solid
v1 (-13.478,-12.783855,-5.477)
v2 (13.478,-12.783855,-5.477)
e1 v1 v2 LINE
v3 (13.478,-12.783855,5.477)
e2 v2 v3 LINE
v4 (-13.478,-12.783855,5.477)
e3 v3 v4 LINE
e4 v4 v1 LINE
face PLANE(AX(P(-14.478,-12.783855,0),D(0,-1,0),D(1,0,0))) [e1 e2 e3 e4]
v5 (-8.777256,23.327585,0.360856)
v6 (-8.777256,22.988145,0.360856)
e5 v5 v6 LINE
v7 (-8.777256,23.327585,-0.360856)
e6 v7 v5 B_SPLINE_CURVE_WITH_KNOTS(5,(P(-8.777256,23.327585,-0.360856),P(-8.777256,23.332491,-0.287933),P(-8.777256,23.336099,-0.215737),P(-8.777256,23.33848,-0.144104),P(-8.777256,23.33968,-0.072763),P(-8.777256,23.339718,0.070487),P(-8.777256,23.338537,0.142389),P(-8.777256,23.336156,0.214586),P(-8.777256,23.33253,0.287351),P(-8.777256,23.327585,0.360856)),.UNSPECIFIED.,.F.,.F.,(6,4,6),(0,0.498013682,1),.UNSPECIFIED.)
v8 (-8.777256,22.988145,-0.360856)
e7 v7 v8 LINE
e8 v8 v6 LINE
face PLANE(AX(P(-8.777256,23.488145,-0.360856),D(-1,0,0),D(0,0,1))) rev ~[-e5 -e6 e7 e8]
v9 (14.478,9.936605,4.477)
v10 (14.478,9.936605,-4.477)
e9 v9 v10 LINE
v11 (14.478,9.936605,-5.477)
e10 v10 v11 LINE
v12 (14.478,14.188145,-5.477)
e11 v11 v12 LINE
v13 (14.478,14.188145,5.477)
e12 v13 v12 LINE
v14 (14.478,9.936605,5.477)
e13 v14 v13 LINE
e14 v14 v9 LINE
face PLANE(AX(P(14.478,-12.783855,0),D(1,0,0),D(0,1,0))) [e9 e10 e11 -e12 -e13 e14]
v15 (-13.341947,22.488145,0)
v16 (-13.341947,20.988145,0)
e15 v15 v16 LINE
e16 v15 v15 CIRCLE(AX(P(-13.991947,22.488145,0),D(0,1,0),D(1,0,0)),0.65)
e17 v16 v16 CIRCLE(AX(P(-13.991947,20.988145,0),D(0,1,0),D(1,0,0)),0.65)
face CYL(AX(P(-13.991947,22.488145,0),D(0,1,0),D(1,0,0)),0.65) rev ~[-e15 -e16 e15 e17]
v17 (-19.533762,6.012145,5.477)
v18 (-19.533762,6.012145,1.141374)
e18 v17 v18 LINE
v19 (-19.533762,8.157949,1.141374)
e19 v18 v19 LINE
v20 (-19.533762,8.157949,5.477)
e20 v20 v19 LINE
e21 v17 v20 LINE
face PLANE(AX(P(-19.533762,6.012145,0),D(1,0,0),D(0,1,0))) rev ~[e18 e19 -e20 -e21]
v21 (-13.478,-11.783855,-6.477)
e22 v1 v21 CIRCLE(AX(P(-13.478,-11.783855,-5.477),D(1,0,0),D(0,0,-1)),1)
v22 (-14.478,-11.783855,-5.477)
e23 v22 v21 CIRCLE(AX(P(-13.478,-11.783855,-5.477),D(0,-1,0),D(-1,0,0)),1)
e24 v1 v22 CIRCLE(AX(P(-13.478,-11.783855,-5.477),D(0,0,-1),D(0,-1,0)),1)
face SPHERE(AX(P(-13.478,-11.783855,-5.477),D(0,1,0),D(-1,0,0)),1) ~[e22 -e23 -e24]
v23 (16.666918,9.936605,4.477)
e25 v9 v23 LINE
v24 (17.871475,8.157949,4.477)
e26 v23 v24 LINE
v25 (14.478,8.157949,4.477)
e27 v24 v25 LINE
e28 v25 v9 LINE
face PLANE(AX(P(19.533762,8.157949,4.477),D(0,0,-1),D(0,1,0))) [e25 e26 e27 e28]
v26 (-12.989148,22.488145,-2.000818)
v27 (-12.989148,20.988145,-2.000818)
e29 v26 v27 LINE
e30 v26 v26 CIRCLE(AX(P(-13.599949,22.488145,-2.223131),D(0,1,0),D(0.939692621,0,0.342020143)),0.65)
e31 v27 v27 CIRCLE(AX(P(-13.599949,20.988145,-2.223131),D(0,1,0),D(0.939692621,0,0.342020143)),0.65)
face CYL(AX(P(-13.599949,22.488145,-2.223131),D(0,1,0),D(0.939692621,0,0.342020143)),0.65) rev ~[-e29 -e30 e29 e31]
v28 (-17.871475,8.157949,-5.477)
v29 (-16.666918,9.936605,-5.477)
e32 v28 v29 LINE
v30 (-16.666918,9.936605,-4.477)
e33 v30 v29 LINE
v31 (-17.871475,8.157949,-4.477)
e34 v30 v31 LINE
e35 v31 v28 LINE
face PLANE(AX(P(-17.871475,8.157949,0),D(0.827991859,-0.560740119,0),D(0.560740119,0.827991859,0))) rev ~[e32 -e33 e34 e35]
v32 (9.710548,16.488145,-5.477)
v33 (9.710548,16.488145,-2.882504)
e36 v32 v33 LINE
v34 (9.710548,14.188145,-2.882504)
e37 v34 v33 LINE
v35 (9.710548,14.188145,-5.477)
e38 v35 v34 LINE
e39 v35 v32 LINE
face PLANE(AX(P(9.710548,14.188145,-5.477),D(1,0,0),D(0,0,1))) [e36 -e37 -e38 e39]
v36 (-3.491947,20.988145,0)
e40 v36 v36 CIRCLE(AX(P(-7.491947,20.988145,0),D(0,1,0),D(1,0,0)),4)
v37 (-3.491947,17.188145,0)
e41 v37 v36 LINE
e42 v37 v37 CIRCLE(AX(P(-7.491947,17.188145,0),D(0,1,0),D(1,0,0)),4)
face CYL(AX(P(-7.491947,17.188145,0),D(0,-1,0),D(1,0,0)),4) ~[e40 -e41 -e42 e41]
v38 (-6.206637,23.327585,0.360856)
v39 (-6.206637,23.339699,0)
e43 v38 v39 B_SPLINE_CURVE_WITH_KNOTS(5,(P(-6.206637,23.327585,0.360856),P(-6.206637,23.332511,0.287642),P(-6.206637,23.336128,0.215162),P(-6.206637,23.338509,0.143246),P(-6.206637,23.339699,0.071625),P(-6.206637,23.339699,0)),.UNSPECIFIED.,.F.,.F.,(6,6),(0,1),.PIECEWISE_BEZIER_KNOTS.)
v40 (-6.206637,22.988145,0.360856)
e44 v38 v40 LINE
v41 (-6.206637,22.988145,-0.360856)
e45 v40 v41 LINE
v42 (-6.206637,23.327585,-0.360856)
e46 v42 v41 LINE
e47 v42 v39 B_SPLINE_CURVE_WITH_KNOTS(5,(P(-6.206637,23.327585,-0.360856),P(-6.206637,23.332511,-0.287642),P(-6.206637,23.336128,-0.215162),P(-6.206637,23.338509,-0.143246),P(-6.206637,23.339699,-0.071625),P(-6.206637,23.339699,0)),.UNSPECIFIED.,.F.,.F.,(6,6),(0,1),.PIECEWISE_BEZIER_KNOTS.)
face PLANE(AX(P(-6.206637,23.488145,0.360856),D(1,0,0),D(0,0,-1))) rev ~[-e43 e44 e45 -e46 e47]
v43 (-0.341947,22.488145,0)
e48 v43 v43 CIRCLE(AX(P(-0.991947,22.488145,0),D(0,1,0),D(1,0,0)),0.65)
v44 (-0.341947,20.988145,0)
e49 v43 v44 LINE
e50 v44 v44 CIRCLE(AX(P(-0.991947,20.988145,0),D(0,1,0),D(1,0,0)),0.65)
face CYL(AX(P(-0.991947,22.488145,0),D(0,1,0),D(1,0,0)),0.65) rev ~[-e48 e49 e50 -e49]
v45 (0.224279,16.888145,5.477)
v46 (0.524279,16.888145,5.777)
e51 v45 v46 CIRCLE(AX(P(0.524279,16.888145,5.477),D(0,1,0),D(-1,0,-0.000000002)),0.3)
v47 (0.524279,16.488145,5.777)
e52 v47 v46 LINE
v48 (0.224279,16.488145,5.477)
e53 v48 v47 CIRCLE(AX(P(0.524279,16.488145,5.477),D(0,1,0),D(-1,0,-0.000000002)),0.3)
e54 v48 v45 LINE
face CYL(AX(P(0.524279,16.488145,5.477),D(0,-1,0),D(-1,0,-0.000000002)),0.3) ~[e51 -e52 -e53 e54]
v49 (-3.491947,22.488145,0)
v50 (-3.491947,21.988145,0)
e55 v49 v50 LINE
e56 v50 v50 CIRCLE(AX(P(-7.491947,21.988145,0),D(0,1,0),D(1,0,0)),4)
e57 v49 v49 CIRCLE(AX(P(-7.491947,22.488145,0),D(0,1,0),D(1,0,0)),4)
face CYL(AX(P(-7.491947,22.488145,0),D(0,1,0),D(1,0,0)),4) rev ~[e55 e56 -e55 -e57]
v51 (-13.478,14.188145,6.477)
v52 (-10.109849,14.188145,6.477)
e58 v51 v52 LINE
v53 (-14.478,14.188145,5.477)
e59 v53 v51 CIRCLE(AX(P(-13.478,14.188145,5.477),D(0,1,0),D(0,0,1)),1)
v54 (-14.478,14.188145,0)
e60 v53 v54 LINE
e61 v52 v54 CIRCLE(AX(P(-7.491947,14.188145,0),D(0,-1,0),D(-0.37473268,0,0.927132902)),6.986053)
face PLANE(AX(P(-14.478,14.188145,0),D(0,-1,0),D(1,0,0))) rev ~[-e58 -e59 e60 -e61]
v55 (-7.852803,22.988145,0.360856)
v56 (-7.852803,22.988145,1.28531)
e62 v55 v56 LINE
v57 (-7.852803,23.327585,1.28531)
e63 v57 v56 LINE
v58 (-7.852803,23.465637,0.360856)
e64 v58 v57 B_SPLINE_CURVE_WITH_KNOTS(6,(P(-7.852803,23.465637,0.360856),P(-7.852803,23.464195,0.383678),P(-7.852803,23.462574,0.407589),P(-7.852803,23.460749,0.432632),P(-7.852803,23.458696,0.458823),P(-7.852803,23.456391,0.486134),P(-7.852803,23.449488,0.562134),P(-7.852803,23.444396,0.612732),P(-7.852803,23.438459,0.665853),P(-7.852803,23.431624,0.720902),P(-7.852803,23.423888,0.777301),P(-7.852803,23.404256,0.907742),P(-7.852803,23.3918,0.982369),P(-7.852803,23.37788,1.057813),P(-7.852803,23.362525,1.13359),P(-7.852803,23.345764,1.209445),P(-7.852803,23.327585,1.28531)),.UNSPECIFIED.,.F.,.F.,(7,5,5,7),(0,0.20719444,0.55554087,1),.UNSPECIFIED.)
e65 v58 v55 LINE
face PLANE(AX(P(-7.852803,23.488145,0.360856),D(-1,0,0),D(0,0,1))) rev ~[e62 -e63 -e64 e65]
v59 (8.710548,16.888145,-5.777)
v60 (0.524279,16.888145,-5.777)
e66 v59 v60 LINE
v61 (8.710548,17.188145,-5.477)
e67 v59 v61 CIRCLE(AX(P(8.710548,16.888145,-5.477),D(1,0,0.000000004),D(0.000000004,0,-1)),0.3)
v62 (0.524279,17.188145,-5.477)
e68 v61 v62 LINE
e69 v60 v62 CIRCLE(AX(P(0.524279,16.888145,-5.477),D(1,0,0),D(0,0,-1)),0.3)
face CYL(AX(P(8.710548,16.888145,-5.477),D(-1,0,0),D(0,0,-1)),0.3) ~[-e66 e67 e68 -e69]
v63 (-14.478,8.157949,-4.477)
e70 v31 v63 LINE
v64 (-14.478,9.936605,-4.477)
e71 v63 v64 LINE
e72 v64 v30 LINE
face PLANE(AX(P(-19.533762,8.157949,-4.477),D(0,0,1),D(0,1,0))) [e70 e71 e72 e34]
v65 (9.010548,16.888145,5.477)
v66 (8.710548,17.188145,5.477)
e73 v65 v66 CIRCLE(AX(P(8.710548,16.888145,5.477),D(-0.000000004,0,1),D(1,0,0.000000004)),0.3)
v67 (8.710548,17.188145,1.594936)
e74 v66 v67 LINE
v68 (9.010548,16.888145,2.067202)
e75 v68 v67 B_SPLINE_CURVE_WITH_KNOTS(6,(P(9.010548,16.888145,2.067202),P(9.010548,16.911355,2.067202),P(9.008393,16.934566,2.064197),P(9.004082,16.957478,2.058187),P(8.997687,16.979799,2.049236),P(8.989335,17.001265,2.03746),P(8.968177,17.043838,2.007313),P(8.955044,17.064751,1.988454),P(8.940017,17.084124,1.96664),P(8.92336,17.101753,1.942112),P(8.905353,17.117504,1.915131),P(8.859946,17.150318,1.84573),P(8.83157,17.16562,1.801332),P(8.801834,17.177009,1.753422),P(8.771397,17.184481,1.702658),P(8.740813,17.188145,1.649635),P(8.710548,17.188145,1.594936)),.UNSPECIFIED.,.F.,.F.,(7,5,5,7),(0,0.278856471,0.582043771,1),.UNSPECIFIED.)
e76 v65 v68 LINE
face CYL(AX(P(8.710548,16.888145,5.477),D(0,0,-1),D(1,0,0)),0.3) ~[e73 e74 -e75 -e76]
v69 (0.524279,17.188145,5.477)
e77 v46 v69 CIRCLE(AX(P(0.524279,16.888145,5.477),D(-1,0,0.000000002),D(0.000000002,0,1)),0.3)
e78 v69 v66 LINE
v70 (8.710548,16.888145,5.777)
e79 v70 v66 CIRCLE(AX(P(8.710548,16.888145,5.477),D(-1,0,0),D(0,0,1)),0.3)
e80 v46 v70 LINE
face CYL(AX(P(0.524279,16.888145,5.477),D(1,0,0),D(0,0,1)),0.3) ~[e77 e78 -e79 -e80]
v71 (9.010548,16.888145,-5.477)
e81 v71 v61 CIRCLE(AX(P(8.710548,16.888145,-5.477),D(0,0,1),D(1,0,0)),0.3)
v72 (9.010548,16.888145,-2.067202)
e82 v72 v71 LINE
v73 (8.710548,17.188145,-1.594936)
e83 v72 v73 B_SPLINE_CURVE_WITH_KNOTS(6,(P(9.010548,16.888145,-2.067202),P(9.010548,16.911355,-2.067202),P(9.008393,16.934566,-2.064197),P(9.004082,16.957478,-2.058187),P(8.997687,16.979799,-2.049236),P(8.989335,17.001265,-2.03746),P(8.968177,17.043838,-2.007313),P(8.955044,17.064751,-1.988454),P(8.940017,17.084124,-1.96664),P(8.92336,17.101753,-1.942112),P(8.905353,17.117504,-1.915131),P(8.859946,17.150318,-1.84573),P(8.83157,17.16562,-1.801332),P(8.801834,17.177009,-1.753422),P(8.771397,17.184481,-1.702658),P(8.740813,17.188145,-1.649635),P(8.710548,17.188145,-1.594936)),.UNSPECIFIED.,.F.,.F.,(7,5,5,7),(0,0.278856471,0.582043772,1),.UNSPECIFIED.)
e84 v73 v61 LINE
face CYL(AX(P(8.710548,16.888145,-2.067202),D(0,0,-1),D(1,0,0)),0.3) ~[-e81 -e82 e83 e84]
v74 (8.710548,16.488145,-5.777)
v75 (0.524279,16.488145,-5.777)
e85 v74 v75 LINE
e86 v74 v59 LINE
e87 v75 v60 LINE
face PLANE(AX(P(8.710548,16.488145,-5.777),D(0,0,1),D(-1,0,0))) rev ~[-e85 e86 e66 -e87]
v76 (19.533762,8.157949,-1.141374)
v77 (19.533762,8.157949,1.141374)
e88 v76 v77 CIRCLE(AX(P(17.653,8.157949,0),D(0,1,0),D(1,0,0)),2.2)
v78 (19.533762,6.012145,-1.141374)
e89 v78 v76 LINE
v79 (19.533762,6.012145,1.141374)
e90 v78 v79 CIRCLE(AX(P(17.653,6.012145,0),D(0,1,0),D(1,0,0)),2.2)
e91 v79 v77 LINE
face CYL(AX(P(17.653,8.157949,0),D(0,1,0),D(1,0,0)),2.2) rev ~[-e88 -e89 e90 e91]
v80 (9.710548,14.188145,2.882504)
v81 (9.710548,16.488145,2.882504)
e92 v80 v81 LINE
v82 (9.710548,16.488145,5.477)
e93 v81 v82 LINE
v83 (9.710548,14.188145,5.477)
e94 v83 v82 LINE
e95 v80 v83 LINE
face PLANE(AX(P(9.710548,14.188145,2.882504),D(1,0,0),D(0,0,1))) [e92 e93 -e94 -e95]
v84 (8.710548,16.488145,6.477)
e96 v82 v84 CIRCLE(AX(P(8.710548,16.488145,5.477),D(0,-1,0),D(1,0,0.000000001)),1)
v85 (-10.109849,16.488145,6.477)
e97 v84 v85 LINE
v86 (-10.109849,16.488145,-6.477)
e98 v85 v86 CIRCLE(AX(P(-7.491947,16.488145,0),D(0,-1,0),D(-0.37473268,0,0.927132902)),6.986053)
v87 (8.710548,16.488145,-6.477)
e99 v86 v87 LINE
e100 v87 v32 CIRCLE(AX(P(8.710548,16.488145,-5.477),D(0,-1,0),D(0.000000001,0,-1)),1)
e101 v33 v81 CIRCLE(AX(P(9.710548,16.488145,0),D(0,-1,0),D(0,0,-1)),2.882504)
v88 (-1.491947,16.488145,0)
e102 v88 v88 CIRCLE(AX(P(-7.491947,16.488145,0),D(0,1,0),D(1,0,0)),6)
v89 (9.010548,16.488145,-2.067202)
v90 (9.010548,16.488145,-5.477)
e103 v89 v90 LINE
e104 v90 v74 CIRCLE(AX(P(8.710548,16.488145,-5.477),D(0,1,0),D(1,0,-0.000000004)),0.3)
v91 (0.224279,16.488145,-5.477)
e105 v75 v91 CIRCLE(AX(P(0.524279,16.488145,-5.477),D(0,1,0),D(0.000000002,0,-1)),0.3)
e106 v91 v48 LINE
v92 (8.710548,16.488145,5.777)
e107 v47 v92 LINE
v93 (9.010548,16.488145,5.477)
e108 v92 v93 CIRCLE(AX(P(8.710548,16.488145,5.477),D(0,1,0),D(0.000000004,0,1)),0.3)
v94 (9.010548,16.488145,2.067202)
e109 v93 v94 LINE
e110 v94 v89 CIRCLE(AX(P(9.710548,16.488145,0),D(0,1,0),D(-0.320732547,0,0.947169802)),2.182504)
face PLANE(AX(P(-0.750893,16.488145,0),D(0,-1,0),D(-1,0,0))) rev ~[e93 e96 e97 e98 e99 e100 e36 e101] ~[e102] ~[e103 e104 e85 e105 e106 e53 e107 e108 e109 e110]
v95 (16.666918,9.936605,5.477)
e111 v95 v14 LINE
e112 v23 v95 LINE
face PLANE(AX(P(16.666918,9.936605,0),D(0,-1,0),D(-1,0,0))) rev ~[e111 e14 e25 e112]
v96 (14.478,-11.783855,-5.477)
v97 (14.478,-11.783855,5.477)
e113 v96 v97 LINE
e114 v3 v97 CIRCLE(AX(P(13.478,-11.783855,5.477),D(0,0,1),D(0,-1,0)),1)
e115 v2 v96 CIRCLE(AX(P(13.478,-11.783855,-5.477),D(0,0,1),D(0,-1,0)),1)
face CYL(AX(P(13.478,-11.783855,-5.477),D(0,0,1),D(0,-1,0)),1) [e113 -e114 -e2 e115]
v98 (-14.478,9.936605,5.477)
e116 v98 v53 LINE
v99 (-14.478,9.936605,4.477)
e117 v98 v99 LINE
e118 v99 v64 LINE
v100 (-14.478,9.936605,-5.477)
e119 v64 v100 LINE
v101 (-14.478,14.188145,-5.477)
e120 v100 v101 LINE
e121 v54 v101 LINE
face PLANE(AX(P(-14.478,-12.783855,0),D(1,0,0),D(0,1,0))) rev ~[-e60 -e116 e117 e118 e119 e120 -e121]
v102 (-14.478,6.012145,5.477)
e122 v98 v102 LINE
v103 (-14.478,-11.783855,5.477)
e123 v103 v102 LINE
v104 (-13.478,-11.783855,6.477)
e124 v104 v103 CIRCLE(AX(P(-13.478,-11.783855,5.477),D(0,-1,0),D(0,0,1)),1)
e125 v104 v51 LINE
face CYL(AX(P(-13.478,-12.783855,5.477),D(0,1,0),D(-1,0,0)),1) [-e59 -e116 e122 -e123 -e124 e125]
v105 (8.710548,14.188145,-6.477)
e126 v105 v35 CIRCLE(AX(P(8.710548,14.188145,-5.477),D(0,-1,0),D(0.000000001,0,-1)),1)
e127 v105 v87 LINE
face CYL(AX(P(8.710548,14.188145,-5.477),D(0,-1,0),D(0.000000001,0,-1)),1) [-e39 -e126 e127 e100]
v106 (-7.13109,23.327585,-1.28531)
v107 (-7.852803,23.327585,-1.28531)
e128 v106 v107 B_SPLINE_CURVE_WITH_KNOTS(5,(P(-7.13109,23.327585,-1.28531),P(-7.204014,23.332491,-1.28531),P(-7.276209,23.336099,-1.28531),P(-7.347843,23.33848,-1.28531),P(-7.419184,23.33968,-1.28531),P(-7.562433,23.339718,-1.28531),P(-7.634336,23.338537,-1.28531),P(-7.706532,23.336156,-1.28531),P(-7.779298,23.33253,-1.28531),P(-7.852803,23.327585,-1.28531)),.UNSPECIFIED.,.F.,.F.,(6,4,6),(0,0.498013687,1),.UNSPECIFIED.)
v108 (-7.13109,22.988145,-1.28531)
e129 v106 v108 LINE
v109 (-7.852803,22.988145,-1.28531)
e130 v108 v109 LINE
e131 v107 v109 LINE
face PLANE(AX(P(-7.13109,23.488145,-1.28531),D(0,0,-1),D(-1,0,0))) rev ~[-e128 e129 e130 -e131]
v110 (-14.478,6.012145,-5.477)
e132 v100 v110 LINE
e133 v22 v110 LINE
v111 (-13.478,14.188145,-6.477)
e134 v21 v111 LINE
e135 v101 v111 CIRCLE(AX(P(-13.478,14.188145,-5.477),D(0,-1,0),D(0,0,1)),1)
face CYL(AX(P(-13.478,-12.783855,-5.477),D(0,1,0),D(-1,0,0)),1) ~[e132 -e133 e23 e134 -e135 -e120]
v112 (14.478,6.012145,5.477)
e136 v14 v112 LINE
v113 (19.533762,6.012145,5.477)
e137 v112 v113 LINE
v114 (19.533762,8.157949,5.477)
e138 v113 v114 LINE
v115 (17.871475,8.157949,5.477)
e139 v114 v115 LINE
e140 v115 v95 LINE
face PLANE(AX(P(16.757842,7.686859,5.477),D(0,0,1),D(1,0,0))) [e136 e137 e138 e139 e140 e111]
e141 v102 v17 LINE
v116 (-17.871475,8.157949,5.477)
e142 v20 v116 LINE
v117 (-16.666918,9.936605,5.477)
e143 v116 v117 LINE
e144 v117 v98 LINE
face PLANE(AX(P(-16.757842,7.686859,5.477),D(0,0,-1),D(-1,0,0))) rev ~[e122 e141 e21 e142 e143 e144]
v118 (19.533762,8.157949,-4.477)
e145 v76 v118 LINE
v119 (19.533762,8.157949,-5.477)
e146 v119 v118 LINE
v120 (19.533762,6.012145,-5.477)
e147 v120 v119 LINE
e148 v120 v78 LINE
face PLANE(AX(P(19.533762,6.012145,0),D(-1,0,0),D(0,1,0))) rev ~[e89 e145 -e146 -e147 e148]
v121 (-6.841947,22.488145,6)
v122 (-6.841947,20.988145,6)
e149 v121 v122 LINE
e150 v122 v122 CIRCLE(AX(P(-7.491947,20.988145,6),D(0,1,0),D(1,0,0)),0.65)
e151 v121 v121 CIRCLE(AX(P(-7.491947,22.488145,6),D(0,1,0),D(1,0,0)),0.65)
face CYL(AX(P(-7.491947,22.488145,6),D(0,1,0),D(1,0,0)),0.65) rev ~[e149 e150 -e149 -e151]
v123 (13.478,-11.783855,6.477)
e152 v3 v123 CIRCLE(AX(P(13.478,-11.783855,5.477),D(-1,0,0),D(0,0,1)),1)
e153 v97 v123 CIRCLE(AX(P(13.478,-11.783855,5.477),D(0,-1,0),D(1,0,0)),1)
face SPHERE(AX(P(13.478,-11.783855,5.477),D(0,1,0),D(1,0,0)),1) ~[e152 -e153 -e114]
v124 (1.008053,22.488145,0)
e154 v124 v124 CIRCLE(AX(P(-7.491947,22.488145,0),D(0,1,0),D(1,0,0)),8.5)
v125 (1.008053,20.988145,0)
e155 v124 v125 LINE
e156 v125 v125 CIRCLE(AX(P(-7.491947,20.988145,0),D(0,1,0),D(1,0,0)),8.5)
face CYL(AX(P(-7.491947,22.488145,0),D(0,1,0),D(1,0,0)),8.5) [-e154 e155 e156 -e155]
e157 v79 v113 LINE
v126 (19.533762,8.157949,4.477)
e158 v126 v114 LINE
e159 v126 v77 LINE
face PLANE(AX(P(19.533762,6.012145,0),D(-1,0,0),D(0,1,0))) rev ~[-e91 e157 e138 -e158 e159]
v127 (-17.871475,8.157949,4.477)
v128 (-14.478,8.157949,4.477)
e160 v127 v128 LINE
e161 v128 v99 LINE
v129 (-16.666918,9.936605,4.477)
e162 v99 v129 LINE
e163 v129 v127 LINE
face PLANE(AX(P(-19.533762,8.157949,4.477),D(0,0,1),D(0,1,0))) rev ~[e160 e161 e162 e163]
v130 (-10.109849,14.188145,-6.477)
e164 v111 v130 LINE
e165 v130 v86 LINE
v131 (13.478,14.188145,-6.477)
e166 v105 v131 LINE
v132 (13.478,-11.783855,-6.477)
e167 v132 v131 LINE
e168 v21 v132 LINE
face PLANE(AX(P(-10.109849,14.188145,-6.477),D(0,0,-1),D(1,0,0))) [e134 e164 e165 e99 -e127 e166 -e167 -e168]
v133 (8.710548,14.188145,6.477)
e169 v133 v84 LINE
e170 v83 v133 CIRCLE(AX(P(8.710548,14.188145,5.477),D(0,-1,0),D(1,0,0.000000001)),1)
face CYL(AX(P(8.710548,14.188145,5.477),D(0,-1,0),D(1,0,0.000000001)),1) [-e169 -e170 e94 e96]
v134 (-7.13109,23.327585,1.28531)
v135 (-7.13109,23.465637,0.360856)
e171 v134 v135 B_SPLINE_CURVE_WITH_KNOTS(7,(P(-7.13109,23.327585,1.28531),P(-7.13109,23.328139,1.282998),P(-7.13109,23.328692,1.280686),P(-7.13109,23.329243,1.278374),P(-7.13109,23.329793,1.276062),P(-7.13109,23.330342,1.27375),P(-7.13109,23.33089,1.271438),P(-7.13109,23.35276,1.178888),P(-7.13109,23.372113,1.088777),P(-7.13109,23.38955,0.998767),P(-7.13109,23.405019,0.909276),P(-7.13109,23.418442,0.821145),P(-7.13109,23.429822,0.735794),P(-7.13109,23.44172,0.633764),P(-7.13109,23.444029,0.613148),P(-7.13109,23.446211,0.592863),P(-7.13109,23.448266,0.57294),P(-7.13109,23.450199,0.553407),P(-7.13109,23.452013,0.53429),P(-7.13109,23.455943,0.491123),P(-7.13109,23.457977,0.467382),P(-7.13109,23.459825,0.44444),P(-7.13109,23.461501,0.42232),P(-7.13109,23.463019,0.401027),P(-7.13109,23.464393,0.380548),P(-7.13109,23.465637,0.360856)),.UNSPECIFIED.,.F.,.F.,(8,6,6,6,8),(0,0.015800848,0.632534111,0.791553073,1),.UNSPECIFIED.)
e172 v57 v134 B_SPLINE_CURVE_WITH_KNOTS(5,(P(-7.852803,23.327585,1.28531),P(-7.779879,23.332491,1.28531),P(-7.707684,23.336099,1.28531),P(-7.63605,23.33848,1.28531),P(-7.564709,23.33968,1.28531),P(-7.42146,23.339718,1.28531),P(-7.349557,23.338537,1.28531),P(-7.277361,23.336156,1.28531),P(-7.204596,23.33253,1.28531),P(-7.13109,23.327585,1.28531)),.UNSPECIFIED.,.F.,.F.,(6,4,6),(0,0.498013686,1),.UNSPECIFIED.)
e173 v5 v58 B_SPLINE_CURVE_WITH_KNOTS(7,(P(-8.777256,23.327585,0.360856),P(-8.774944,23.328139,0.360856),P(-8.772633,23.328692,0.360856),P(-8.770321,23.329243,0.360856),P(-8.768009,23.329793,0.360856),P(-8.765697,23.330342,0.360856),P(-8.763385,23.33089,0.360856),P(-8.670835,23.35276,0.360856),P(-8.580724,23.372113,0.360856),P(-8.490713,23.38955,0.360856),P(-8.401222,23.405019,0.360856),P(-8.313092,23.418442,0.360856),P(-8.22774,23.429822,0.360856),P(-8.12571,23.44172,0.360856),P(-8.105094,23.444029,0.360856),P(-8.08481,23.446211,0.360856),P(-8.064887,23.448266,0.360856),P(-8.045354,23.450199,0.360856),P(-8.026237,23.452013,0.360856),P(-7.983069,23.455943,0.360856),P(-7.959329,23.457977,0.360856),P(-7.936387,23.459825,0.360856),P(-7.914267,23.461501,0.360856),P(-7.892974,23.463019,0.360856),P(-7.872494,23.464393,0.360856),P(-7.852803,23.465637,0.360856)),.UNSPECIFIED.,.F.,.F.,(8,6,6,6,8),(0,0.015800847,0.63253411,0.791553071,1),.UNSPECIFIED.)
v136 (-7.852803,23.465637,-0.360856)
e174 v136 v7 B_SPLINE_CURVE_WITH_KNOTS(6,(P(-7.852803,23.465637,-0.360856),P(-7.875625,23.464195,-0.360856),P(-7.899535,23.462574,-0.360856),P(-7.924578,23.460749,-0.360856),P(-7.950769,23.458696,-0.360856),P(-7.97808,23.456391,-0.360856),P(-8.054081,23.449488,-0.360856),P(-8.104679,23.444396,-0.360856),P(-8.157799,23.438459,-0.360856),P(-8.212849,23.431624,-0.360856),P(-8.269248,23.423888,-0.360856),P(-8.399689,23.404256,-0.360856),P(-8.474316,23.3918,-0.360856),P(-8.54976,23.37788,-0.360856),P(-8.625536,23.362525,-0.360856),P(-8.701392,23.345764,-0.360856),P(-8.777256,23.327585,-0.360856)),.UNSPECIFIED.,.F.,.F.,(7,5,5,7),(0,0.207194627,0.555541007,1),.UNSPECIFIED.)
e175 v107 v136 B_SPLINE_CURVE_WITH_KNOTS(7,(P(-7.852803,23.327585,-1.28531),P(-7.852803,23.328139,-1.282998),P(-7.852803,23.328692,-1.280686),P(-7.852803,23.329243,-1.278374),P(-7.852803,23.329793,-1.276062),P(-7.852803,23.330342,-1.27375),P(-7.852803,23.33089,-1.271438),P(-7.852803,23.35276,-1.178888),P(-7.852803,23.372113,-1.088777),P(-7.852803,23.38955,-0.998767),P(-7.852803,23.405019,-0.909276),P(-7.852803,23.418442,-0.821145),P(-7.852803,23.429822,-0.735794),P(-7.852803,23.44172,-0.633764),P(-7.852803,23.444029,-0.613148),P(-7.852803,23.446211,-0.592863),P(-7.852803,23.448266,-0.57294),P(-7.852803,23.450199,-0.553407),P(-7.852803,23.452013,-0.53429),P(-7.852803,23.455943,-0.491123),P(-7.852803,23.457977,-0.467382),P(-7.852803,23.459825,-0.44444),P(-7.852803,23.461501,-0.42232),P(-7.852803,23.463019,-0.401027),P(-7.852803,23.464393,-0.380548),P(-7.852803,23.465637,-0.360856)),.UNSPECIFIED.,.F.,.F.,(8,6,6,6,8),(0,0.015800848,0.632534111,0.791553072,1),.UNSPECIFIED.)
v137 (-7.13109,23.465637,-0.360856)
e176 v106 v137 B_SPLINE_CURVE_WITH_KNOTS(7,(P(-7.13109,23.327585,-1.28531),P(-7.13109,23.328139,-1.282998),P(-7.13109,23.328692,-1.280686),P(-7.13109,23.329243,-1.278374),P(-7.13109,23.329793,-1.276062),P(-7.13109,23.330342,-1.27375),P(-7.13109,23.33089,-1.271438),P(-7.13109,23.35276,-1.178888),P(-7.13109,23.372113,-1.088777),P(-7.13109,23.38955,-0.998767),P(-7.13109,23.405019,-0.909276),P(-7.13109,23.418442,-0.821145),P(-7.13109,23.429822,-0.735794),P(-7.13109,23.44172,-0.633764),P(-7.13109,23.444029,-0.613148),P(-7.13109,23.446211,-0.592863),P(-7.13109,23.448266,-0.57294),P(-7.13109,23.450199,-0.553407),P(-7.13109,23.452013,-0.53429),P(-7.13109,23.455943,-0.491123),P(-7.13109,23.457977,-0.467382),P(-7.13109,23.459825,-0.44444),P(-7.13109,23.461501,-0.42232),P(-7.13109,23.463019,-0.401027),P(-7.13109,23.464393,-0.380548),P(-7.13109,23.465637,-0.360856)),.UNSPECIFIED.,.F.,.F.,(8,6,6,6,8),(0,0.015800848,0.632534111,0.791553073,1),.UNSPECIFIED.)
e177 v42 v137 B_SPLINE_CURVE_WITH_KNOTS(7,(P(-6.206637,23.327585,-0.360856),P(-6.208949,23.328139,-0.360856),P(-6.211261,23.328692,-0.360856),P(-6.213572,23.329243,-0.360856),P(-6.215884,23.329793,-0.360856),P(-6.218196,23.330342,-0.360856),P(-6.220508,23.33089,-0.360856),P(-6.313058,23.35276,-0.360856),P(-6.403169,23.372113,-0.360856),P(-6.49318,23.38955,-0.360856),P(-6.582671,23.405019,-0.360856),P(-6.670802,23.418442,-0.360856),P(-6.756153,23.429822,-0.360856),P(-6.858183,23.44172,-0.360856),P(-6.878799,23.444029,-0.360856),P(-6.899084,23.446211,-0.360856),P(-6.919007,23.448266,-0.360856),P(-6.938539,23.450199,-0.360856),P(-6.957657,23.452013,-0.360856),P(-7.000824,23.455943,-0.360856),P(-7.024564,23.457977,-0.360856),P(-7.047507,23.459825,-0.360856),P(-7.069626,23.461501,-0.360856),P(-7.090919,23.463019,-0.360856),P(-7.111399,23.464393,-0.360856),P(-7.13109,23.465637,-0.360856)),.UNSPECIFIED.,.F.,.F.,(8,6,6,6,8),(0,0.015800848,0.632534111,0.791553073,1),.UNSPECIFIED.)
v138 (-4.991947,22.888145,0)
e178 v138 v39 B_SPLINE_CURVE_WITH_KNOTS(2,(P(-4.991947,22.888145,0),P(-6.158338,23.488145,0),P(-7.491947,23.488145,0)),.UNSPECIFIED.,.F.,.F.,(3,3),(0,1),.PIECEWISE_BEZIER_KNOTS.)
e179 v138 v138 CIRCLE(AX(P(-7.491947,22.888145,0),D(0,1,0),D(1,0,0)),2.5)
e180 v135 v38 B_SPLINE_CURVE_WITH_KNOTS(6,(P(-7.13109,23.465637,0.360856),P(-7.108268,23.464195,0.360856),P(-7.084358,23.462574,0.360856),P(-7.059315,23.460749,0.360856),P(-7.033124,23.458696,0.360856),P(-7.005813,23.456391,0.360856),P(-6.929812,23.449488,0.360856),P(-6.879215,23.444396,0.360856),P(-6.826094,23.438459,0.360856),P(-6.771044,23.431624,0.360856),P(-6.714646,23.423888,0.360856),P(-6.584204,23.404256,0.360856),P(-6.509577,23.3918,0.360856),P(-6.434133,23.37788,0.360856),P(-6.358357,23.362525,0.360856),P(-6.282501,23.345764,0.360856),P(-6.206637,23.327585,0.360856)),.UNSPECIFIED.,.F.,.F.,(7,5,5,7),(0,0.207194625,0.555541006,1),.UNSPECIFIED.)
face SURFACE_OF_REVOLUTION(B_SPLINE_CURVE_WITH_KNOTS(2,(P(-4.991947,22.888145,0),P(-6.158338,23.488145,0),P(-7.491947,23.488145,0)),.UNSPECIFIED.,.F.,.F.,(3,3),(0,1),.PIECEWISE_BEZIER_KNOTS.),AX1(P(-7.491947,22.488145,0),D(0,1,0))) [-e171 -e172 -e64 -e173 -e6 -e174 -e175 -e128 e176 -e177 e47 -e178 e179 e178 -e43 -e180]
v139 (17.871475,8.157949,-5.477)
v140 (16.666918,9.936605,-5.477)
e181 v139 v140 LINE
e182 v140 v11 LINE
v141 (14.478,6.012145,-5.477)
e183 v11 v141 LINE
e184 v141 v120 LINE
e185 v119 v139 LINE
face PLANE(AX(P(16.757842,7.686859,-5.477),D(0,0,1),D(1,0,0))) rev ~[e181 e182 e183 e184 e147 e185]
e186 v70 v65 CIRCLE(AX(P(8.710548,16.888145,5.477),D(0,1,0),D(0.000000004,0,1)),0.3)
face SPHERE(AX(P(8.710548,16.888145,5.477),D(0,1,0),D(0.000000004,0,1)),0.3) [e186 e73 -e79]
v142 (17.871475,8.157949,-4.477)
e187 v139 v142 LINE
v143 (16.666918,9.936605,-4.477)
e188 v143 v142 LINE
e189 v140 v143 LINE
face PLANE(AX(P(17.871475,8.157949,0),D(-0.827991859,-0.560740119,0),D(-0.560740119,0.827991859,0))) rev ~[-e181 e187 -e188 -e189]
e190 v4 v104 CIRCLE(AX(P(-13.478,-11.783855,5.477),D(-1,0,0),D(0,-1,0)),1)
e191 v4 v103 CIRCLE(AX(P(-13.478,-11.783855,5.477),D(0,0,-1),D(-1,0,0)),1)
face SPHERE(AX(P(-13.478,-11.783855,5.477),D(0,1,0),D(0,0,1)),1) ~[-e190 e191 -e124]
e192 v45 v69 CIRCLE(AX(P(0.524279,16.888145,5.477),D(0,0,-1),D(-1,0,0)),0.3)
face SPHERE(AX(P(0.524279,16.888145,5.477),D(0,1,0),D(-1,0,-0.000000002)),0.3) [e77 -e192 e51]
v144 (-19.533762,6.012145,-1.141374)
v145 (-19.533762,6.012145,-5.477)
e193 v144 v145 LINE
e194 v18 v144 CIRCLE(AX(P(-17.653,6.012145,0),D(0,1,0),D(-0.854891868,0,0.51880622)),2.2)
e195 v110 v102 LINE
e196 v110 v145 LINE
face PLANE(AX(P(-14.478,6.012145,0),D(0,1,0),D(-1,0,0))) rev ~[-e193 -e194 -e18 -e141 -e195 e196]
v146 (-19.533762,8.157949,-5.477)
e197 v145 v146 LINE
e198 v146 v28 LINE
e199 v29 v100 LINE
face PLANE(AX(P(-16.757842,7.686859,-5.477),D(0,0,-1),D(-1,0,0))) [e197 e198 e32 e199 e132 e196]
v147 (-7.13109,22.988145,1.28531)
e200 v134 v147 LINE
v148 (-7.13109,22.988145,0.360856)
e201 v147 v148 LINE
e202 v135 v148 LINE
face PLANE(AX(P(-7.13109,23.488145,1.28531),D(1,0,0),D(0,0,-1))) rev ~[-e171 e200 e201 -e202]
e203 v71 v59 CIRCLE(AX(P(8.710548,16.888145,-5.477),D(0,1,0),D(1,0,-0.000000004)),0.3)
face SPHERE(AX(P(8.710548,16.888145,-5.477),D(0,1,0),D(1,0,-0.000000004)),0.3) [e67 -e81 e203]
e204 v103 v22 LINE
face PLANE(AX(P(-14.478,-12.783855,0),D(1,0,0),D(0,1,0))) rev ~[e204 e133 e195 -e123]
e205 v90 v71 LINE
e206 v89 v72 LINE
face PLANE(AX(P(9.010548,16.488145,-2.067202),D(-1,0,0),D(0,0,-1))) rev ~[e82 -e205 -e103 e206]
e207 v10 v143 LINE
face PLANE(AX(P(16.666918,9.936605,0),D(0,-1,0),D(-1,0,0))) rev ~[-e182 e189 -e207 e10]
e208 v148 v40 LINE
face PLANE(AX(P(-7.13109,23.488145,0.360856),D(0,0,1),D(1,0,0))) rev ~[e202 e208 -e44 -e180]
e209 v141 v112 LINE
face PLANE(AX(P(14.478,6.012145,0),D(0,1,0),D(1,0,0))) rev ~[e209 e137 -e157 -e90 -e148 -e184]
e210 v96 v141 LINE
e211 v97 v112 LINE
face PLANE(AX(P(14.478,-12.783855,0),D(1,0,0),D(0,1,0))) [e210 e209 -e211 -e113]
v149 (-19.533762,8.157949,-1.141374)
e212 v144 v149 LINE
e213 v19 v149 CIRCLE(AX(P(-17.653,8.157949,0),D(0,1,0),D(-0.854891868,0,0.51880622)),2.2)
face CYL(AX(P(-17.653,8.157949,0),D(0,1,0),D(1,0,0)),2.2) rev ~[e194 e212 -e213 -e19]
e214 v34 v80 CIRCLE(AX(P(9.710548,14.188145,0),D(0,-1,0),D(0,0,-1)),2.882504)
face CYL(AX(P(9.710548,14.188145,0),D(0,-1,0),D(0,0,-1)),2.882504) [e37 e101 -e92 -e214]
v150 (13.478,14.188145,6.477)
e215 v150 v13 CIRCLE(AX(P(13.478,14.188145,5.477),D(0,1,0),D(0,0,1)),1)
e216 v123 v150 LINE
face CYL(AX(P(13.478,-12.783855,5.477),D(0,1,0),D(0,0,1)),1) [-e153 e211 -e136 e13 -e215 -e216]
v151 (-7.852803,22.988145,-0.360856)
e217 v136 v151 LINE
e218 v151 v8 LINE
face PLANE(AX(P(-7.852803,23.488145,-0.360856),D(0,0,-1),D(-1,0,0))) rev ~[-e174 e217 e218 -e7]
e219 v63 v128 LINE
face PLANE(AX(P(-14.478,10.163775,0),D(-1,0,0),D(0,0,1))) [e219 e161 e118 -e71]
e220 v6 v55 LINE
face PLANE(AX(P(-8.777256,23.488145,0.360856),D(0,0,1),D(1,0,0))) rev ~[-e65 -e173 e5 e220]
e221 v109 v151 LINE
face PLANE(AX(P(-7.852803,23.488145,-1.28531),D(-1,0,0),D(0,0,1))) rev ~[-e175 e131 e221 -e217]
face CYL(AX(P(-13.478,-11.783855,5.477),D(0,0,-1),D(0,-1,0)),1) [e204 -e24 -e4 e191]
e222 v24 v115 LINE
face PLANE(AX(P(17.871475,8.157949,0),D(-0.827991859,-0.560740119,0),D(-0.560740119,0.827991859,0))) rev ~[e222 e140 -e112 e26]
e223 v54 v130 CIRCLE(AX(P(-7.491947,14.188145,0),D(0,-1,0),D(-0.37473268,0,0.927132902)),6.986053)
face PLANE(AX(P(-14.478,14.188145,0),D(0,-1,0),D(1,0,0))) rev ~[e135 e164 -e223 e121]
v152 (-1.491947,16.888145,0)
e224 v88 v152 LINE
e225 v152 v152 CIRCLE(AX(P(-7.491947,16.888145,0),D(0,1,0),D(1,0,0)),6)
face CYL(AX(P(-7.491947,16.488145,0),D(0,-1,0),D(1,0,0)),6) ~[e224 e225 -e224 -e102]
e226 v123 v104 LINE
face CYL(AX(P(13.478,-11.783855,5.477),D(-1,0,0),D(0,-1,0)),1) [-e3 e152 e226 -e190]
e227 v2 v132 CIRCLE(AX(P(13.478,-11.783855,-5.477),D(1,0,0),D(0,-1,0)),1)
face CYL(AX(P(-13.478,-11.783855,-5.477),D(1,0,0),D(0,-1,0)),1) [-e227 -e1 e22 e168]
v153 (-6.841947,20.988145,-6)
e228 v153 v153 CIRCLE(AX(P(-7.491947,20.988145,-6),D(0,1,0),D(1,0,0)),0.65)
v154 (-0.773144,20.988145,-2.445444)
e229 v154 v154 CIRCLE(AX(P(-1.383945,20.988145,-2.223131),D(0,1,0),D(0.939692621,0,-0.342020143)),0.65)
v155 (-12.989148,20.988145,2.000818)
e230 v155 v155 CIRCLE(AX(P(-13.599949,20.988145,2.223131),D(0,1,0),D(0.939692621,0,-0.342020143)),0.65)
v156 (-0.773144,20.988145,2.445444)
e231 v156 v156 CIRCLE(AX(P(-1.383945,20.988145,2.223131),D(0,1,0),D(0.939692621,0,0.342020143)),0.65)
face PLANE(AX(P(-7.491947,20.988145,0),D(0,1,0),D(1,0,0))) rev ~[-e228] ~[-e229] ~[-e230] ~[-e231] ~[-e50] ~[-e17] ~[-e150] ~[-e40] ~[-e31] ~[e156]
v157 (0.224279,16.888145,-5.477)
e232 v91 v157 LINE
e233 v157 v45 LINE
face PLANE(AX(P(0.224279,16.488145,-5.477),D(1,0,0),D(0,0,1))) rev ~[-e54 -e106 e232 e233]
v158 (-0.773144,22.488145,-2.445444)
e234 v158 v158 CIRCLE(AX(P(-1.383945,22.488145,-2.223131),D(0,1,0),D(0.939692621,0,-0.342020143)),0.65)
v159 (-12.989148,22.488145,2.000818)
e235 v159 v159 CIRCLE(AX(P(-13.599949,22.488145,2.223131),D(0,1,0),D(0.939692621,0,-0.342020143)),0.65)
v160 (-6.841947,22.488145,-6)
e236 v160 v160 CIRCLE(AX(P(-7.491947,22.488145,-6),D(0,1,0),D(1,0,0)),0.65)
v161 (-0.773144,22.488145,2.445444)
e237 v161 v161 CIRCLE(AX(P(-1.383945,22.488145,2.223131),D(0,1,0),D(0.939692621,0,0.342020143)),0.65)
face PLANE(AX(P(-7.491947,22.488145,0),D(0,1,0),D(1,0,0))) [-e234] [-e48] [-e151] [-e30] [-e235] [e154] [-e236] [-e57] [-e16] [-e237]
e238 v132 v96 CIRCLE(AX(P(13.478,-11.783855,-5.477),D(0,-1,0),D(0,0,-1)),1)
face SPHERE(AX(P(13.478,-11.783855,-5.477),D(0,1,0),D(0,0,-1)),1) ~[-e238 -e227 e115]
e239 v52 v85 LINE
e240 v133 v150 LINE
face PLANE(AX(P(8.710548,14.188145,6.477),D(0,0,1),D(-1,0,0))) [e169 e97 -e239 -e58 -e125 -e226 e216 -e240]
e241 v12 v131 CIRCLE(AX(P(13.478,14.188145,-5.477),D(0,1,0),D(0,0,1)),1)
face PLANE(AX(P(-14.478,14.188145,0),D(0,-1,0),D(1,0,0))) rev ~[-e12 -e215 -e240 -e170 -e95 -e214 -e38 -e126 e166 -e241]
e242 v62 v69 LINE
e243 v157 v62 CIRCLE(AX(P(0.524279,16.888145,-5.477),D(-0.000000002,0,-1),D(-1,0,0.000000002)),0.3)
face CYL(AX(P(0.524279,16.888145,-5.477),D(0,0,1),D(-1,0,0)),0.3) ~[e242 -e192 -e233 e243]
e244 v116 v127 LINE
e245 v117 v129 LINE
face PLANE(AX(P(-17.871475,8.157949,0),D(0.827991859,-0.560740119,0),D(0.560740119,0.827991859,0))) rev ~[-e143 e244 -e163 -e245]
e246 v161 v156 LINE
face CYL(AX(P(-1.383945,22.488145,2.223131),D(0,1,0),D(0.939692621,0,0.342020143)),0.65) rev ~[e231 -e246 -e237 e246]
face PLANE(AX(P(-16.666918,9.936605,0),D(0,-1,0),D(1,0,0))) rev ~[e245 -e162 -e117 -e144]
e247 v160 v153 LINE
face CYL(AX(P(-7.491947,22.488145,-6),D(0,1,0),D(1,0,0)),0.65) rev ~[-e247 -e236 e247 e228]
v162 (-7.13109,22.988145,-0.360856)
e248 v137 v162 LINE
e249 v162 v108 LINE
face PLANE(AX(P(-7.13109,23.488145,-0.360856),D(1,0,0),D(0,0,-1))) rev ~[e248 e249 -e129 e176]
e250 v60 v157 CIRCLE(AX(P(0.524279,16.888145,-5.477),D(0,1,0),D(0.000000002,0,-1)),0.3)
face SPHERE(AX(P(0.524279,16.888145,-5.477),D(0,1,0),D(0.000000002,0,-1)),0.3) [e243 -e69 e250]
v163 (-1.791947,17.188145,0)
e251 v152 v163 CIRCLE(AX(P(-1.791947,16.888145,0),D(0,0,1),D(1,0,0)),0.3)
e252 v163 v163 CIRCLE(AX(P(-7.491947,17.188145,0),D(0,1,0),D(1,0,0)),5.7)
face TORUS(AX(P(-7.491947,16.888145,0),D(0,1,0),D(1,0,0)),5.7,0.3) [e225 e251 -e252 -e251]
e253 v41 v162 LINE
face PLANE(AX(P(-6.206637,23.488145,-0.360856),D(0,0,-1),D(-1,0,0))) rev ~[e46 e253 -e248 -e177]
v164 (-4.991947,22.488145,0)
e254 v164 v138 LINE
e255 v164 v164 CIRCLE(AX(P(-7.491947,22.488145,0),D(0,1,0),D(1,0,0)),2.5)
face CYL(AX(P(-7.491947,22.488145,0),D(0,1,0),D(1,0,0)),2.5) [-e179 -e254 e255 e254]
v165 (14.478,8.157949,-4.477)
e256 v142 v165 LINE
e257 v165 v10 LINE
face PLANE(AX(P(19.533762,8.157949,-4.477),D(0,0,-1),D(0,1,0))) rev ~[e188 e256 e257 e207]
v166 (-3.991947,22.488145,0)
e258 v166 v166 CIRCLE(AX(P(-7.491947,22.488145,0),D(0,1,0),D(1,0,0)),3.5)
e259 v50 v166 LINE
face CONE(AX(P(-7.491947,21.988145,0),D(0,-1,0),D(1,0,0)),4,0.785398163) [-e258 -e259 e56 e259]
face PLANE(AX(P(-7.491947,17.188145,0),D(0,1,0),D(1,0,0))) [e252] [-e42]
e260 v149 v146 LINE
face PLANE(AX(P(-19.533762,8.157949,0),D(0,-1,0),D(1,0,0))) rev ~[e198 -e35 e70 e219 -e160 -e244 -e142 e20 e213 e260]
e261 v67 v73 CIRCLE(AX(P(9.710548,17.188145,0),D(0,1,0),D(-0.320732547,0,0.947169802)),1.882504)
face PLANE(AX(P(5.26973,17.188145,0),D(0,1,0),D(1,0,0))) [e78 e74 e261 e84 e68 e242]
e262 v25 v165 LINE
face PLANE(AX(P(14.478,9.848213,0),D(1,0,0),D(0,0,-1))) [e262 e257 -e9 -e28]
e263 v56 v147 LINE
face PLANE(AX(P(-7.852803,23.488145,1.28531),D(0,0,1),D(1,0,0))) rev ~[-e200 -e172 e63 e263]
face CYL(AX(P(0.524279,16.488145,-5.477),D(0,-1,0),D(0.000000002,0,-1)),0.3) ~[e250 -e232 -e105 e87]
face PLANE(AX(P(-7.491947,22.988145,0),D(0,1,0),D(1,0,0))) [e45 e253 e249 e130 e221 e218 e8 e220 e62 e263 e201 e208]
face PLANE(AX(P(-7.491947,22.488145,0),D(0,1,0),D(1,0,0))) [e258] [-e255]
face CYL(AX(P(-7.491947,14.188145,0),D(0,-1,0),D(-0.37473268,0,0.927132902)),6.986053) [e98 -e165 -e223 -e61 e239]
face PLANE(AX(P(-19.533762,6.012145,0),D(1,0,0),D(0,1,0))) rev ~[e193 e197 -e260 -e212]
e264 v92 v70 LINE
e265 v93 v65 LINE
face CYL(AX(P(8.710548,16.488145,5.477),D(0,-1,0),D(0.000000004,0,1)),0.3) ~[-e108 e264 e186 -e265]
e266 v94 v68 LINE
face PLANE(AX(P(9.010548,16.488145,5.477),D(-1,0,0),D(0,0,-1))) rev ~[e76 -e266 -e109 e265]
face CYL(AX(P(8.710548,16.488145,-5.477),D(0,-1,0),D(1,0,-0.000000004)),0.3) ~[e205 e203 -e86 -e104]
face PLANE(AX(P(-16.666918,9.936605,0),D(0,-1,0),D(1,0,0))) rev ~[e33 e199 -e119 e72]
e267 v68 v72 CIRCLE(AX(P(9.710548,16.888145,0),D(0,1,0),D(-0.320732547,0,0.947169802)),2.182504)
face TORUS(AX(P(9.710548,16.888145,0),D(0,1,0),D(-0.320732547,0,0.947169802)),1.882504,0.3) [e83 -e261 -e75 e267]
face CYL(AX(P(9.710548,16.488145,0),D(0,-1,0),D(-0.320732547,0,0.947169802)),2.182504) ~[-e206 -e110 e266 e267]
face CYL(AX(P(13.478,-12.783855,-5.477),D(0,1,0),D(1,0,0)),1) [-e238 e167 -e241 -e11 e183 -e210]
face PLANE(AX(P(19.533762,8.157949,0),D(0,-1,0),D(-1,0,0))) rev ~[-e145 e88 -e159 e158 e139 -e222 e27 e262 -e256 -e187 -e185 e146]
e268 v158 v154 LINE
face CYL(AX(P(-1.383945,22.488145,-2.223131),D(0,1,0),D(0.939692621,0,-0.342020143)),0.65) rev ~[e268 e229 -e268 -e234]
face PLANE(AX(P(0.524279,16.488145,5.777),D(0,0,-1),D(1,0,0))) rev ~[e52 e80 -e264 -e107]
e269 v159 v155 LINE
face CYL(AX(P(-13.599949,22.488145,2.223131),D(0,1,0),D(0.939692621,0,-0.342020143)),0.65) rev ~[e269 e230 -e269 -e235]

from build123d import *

# Parameters (mm, degrees)
SKETCH1_W                = 28.956
SKETCH1_H                = 26.972
BOSS_EXTRUDE1_DEPTH      = 6.477
BOSS_EXTRUDE1_DEPTH_BACK = 6.477
FILLET1_R                = 1
FILLET2_R                = 1
BOSS_EXTRUDE2_DEPTH      = 2.3
BOSS_EXTRUDE3_DEPTH      = 0.7
FILLET3_R                = 0.3
SKETCH5_R                = 6
BOSS_EXTRUDE4_DEPTH      = 0.7
FILLET4_R                = 0.3
SKETCH6_R                = 4
BOSS_EXTRUDE5_DEPTH      = 5.3
CHAMFER1_SIZE            = 0.5
SKETCH7_R                = 8.5
SKETCH7_R_2              = 4
BOSS_EXTRUDE6_DEPTH      = 1.5
SKETCH8_R                = 0.65
CUT_EXTRUDE1_DEPTH       = 1.5
SKETCH9_R                = 0.65
CUT_EXTRUDE2_DEPTH       = 1.5
CIRPATTERN1_COUNT        = 2
CIRPATTERN1_ANGLE        = 20
CIRPATTERN2_COUNT        = 2
CIRPATTERN2_ANGLE        = 20
CUT_EXTRUDE3_DEPTH       = 0.5
BOSS_EXTRUDE7_DEPTH      = 5.477
BOSS_EXTRUDE7_DEPTH_BACK = 5.477
SKETCH16_W               = 8.954
SKETCH16_H               = 4.011652596
CUT_EXTRUDE4_DEPTH       = 5.055762
SKETCH17_W               = 8.954
SKETCH17_H               = 3.380527785
CUT_EXTRUDE5_DEPTH       = 5.055762
SKETCH18_R               = 2.2
CUT_EXTRUDE6_DEPTH       = 21.941804104


with BuildPart() as part:
    # Sketch1 → Boss-Extrude1 (new body, two sides)
    with BuildSketch(Plane.XY) as boss_extrude1_sk:
        with Locations((0, 0.702144992)):
            Rectangle(SKETCH1_W, SKETCH1_H)
    extrude(amount=BOSS_EXTRUDE1_DEPTH)
    extrude(boss_extrude1_sk.sketch, amount=-BOSS_EXTRUDE1_DEPTH_BACK)

    # Fillet1
    fillet1_edges = [part.edges().sort_by_distance(p)[0] for p in [
        (14.478, 0.702144992, -6.477),
        (-14.478, 0.702144992, 6.477),
        (14.478, 0.702144992, 6.477),
        (-14.478, 0.702144992, -6.477),
    ]]
    fillet(fillet1_edges, radius=FILLET1_R)

    # Fillet2
    fillet2_edges = [part.edges().sort_by_distance(p)[0] for p in [
        (14.478, -12.783855008, 0),
        (0, -12.783855008, -6.477),
        (0, -12.783855008, 6.477),
        (-14.478, -12.783855008, 0),
        (-14.185106781, -12.783855008, 6.184106781),
        (-14.185106781, -12.783855008, -6.184106781),
        (14.185106781, -12.783855008, 6.184106781),
        (14.185106781, -12.783855008, -6.184106781),
    ]]
    fillet(fillet2_edges, radius=FILLET2_R)

    # Sketch3 → Boss-Extrude2 (add)
    with BuildSketch(Plane(origin=(0, 14.188144992, 0), x_dir=(1, 0, 0), z_dir=(0, 1, 0))):
        with BuildLine():
            Line((-10.109849088, 6.477), (8.710547639, 6.477))
            ThreePointArc((8.710547639, 6.477), (9.41765442, 6.184106781), (9.710547639, 5.477))
            Line((9.710547639, 5.477), (9.710547639, 2.882503788))
            ThreePointArc((9.710547639, 2.882503788), (12.593051427, 0), (9.710547639, -2.882503788))
            Line((9.710547639, -2.882503788), (9.710547639, -5.477))
            ThreePointArc((9.710547639, -5.477), (9.41765442, -6.184106781), (8.710547639, -6.477))
            Line((8.710547639, -6.477), (-10.109849088, -6.477))
            ThreePointArc((-10.109849088, -6.477), (-14.478, 0), (-10.109849088, 6.477))
        make_face()
    extrude(amount=BOSS_EXTRUDE2_DEPTH)

    # Sketch4 → Boss-Extrude3 (add)
    with BuildSketch(Plane(origin=(0, 16.488144992, 0), x_dir=(1, 0, 0), z_dir=(0, 1, 0))):
        with BuildLine():
            Line((9.010547639, 2.06720168), (9.010547639, 5.477))
            ThreePointArc((9.010547639, 5.477), (8.922679673, 5.689132034), (8.710547639, 5.777))
            Line((8.710547639, 5.777), (0.524279087, 5.777))
            ThreePointArc((0.524279087, 5.777), (0.312147052, 5.689132034), (0.224279087, 5.477))
            Line((0.224279087, 5.477), (0.224279087, -5.477))
            ThreePointArc((0.224279087, -5.477), (0.312147052, -5.689132034), (0.524279087, -5.777))
            Line((0.524279087, -5.777), (8.710547639, -5.777))
            ThreePointArc((8.710547639, -5.777), (8.922679673, -5.689132034), (9.010547639, -5.477))
            Line((9.010547639, -5.477), (9.010547639, -2.06720168))
            ThreePointArc((9.010547639, -2.06720168), (11.893051427, 0), (9.010547639, 2.06720168))
        make_face()
    extrude(amount=BOSS_EXTRUDE3_DEPTH)

    # Fillet3
    fillet3_edges = [part.edges().sort_by_distance(p)[0] for p in [
        (11.893051427, 17.188144992, 0),
        (9.010547639, 17.188144992, -3.77210084),
        (8.922679673, 17.188144992, -5.689132034),
        (4.617413363, 17.188144992, -5.777),
        (0.312147052, 17.188144992, -5.689132034),
        (0.224279087, 17.188144992, 0),
        (0.312147052, 17.188144992, 5.689132034),
        (4.617413363, 17.188144992, 5.777),
        (8.922679673, 17.188144992, 5.689132034),
        (9.010547639, 17.188144992, 3.77210084),
    ]]
    fillet(fillet3_edges, radius=FILLET3_R)

    # Sketch5 → Boss-Extrude4 (add)
    with BuildSketch(Plane(origin=(0, 16.488144992, 0), x_dir=(1, 0, 0), z_dir=(0, 1, 0))):
        with Locations((-7.491946563, 0)):
            Circle(SKETCH5_R)
    extrude(amount=BOSS_EXTRUDE4_DEPTH)

    # Fillet4
    fillet4_edges = [part.edges().sort_by_distance(p)[0] for p in [
        (-13.491946563, 17.188144992, 0),
    ]]
    fillet(fillet4_edges, radius=FILLET4_R)

    # Sketch6 → Boss-Extrude5 (add)
    with BuildSketch(Plane(origin=(0, 17.188144992, 0), x_dir=(1, 0, 0), z_dir=(0, 1, 0))):
        with Locations((-7.491946563, 0)):
            Circle(SKETCH6_R)
    extrude(amount=BOSS_EXTRUDE5_DEPTH)

    # Chamfer1
    chamfer1_edges = [part.edges().sort_by_distance(p)[0] for p in [
        (-11.491946563, 22.488144992, 0),
    ]]
    chamfer(chamfer1_edges, length=CHAMFER1_SIZE)

    # Sketch7 → Boss-Extrude6 (add)
    with BuildSketch(Plane(origin=(0, 22.488144992, 0), x_dir=(1, 0, 0), z_dir=(0, 1, 0))):
        with Locations((-7.491946563, 0)):
            Circle(SKETCH7_R)
        with Locations((-7.491946563, 0)):
            Circle(SKETCH7_R_2, mode=Mode.SUBTRACT)
    extrude(amount=-BOSS_EXTRUDE6_DEPTH)

    # Sketch8 → Cut-Extrude1 (cut)
    with BuildSketch(Plane(origin=(0, 22.488144992, 0), x_dir=(1, 0, 0), z_dir=(0, 1, 0))):
        with Locations((-7.491946563, -6)):
            Circle(SKETCH8_R)
        with Locations((-7.491946563, 6)):
            Circle(SKETCH8_R)
    extrude(amount=-CUT_EXTRUDE1_DEPTH, mode=Mode.SUBTRACT)

    # Sketch9 → Cut-Extrude2 (cut)
    with BuildSketch(Plane(origin=(0, 22.488144992, 0), x_dir=(1, 0, 0), z_dir=(0, 1, 0))):
        with Locations((-13.991946563, 0)):
            Circle(SKETCH9_R)
        with Locations((-0.991946563, 0)):
            Circle(SKETCH9_R)
    cut_extrude2 = extrude(amount=-CUT_EXTRUDE2_DEPTH, mode=Mode.SUBTRACT)

    # CirPattern1: Cut-Extrude2 ×2 about axis
    cirpattern1_axis = Axis((-7.491946563, 0, 0), (0, 1, 0))
    for i in range(1, CIRPATTERN1_COUNT):
        add(cut_extrude2.rotate(cirpattern1_axis, i * CIRPATTERN1_ANGLE / (CIRPATTERN1_COUNT - 1)), mode=Mode.SUBTRACT)

    # CirPattern2: Cut-Extrude2 ×2 about axis
    cirpattern2_axis = Axis((-7.491946563, 0, 0), (0, -1, 0))
    for i in range(1, CIRPATTERN2_COUNT):
        add(cut_extrude2.rotate(cirpattern2_axis, i * CIRPATTERN2_ANGLE / (CIRPATTERN2_COUNT - 1)), mode=Mode.SUBTRACT)

    # Sketch11 → Revolve1 (revolve)
    with BuildSketch(Plane.XY):
        with BuildLine():
            Line((-4.991946563, 22.488144992), (-4.991946563, 22.888144992))
            add(Edge.make_bspline(
                [(-4.991946563, 22.888144992), (-6.158337638, 23.488144992), (-7.491946563, 23.488144992)],
                knots=[0, 0, 0, 1, 1, 1], degree=2))
            Line((-7.491946563, 23.488144992), (-7.491946563, 22.488144992))
            Line((-7.491946563, 22.488144992), (-4.991946563, 22.488144992))
        make_face()
    revolve(axis=Axis((-7.491946563, 22.488144992, 0), (0, 1, 0)))

    # Sketch12 → Cut-Extrude3 (cut)
    with BuildSketch(Plane(origin=(0, 23.488144992, 0), x_dir=(1, 0, 0), z_dir=(0, 1, 0))):
        Polygon((-7.131090135, -1.285309656), (-7.131090135, -0.360856428), (-6.206636907, -0.360856428), (-6.206636907, 0.360856428), (-7.131090135, 0.360856428), (-7.131090135, 1.285309656), (-7.85280299, 1.285309656), (-7.85280299, 0.360856428), (-8.777256218, 0.360856428), (-8.777256218, -0.360856428), (-7.85280299, -0.360856428), (-7.85280299, -1.285309656), align=None)
    extrude(amount=-CUT_EXTRUDE3_DEPTH, mode=Mode.SUBTRACT)

    # Sketch14 → Boss-Extrude7 (add, two sides)
    with BuildSketch(Plane.XY) as boss_extrude7_sk:
        Polygon((-14.478, 6.012144992), (-19.53376211, 6.012144992), (-19.53376211, 8.157949096), (-17.871474894, 8.157949096), (-16.666917549, 9.936604913), (-14.478, 9.936604913), align=None)
        Polygon((19.53376211, 6.012144992), (19.53376211, 8.157949096), (17.871474894, 8.157949096), (16.666917549, 9.936604913), (14.478, 9.936604913), (14.478, 6.012144992), align=None)
    extrude(amount=BOSS_EXTRUDE7_DEPTH)
    extrude(boss_extrude7_sk.sketch, amount=-BOSS_EXTRUDE7_DEPTH_BACK)

    # Sketch16 → Cut-Extrude4 (cut)
    with BuildSketch(Plane.ZY.offset(19.53376211)):
        with Locations((0, 10.163775394)):
            Rectangle(SKETCH16_W, SKETCH16_H)
    extrude(amount=-CUT_EXTRUDE4_DEPTH, mode=Mode.SUBTRACT)

    # Sketch17 → Cut-Extrude5 (cut)
    with BuildSketch(Plane(origin=(19.53376211, 0, 0), x_dir=(0, 0, -1), z_dir=(1, 0, 0))):
        with Locations((0, 9.848212989)):
            Rectangle(SKETCH17_W, SKETCH17_H)
    extrude(amount=-CUT_EXTRUDE5_DEPTH, mode=Mode.SUBTRACT)

    # Sketch18 → Cut-Extrude6 (cut, through all)
    with BuildSketch(Plane(origin=(0, 8.157949096, 0), x_dir=(1, 0, 0), z_dir=(0, 1, 0))):
        with Locations((17.653, 0)):
            Circle(SKETCH18_R)
        with Locations((-17.653, 0)):
            Circle(SKETCH18_R)
    extrude(amount=-CUT_EXTRUDE6_DEPTH, mode=Mode.SUBTRACT)


solid = part.part
